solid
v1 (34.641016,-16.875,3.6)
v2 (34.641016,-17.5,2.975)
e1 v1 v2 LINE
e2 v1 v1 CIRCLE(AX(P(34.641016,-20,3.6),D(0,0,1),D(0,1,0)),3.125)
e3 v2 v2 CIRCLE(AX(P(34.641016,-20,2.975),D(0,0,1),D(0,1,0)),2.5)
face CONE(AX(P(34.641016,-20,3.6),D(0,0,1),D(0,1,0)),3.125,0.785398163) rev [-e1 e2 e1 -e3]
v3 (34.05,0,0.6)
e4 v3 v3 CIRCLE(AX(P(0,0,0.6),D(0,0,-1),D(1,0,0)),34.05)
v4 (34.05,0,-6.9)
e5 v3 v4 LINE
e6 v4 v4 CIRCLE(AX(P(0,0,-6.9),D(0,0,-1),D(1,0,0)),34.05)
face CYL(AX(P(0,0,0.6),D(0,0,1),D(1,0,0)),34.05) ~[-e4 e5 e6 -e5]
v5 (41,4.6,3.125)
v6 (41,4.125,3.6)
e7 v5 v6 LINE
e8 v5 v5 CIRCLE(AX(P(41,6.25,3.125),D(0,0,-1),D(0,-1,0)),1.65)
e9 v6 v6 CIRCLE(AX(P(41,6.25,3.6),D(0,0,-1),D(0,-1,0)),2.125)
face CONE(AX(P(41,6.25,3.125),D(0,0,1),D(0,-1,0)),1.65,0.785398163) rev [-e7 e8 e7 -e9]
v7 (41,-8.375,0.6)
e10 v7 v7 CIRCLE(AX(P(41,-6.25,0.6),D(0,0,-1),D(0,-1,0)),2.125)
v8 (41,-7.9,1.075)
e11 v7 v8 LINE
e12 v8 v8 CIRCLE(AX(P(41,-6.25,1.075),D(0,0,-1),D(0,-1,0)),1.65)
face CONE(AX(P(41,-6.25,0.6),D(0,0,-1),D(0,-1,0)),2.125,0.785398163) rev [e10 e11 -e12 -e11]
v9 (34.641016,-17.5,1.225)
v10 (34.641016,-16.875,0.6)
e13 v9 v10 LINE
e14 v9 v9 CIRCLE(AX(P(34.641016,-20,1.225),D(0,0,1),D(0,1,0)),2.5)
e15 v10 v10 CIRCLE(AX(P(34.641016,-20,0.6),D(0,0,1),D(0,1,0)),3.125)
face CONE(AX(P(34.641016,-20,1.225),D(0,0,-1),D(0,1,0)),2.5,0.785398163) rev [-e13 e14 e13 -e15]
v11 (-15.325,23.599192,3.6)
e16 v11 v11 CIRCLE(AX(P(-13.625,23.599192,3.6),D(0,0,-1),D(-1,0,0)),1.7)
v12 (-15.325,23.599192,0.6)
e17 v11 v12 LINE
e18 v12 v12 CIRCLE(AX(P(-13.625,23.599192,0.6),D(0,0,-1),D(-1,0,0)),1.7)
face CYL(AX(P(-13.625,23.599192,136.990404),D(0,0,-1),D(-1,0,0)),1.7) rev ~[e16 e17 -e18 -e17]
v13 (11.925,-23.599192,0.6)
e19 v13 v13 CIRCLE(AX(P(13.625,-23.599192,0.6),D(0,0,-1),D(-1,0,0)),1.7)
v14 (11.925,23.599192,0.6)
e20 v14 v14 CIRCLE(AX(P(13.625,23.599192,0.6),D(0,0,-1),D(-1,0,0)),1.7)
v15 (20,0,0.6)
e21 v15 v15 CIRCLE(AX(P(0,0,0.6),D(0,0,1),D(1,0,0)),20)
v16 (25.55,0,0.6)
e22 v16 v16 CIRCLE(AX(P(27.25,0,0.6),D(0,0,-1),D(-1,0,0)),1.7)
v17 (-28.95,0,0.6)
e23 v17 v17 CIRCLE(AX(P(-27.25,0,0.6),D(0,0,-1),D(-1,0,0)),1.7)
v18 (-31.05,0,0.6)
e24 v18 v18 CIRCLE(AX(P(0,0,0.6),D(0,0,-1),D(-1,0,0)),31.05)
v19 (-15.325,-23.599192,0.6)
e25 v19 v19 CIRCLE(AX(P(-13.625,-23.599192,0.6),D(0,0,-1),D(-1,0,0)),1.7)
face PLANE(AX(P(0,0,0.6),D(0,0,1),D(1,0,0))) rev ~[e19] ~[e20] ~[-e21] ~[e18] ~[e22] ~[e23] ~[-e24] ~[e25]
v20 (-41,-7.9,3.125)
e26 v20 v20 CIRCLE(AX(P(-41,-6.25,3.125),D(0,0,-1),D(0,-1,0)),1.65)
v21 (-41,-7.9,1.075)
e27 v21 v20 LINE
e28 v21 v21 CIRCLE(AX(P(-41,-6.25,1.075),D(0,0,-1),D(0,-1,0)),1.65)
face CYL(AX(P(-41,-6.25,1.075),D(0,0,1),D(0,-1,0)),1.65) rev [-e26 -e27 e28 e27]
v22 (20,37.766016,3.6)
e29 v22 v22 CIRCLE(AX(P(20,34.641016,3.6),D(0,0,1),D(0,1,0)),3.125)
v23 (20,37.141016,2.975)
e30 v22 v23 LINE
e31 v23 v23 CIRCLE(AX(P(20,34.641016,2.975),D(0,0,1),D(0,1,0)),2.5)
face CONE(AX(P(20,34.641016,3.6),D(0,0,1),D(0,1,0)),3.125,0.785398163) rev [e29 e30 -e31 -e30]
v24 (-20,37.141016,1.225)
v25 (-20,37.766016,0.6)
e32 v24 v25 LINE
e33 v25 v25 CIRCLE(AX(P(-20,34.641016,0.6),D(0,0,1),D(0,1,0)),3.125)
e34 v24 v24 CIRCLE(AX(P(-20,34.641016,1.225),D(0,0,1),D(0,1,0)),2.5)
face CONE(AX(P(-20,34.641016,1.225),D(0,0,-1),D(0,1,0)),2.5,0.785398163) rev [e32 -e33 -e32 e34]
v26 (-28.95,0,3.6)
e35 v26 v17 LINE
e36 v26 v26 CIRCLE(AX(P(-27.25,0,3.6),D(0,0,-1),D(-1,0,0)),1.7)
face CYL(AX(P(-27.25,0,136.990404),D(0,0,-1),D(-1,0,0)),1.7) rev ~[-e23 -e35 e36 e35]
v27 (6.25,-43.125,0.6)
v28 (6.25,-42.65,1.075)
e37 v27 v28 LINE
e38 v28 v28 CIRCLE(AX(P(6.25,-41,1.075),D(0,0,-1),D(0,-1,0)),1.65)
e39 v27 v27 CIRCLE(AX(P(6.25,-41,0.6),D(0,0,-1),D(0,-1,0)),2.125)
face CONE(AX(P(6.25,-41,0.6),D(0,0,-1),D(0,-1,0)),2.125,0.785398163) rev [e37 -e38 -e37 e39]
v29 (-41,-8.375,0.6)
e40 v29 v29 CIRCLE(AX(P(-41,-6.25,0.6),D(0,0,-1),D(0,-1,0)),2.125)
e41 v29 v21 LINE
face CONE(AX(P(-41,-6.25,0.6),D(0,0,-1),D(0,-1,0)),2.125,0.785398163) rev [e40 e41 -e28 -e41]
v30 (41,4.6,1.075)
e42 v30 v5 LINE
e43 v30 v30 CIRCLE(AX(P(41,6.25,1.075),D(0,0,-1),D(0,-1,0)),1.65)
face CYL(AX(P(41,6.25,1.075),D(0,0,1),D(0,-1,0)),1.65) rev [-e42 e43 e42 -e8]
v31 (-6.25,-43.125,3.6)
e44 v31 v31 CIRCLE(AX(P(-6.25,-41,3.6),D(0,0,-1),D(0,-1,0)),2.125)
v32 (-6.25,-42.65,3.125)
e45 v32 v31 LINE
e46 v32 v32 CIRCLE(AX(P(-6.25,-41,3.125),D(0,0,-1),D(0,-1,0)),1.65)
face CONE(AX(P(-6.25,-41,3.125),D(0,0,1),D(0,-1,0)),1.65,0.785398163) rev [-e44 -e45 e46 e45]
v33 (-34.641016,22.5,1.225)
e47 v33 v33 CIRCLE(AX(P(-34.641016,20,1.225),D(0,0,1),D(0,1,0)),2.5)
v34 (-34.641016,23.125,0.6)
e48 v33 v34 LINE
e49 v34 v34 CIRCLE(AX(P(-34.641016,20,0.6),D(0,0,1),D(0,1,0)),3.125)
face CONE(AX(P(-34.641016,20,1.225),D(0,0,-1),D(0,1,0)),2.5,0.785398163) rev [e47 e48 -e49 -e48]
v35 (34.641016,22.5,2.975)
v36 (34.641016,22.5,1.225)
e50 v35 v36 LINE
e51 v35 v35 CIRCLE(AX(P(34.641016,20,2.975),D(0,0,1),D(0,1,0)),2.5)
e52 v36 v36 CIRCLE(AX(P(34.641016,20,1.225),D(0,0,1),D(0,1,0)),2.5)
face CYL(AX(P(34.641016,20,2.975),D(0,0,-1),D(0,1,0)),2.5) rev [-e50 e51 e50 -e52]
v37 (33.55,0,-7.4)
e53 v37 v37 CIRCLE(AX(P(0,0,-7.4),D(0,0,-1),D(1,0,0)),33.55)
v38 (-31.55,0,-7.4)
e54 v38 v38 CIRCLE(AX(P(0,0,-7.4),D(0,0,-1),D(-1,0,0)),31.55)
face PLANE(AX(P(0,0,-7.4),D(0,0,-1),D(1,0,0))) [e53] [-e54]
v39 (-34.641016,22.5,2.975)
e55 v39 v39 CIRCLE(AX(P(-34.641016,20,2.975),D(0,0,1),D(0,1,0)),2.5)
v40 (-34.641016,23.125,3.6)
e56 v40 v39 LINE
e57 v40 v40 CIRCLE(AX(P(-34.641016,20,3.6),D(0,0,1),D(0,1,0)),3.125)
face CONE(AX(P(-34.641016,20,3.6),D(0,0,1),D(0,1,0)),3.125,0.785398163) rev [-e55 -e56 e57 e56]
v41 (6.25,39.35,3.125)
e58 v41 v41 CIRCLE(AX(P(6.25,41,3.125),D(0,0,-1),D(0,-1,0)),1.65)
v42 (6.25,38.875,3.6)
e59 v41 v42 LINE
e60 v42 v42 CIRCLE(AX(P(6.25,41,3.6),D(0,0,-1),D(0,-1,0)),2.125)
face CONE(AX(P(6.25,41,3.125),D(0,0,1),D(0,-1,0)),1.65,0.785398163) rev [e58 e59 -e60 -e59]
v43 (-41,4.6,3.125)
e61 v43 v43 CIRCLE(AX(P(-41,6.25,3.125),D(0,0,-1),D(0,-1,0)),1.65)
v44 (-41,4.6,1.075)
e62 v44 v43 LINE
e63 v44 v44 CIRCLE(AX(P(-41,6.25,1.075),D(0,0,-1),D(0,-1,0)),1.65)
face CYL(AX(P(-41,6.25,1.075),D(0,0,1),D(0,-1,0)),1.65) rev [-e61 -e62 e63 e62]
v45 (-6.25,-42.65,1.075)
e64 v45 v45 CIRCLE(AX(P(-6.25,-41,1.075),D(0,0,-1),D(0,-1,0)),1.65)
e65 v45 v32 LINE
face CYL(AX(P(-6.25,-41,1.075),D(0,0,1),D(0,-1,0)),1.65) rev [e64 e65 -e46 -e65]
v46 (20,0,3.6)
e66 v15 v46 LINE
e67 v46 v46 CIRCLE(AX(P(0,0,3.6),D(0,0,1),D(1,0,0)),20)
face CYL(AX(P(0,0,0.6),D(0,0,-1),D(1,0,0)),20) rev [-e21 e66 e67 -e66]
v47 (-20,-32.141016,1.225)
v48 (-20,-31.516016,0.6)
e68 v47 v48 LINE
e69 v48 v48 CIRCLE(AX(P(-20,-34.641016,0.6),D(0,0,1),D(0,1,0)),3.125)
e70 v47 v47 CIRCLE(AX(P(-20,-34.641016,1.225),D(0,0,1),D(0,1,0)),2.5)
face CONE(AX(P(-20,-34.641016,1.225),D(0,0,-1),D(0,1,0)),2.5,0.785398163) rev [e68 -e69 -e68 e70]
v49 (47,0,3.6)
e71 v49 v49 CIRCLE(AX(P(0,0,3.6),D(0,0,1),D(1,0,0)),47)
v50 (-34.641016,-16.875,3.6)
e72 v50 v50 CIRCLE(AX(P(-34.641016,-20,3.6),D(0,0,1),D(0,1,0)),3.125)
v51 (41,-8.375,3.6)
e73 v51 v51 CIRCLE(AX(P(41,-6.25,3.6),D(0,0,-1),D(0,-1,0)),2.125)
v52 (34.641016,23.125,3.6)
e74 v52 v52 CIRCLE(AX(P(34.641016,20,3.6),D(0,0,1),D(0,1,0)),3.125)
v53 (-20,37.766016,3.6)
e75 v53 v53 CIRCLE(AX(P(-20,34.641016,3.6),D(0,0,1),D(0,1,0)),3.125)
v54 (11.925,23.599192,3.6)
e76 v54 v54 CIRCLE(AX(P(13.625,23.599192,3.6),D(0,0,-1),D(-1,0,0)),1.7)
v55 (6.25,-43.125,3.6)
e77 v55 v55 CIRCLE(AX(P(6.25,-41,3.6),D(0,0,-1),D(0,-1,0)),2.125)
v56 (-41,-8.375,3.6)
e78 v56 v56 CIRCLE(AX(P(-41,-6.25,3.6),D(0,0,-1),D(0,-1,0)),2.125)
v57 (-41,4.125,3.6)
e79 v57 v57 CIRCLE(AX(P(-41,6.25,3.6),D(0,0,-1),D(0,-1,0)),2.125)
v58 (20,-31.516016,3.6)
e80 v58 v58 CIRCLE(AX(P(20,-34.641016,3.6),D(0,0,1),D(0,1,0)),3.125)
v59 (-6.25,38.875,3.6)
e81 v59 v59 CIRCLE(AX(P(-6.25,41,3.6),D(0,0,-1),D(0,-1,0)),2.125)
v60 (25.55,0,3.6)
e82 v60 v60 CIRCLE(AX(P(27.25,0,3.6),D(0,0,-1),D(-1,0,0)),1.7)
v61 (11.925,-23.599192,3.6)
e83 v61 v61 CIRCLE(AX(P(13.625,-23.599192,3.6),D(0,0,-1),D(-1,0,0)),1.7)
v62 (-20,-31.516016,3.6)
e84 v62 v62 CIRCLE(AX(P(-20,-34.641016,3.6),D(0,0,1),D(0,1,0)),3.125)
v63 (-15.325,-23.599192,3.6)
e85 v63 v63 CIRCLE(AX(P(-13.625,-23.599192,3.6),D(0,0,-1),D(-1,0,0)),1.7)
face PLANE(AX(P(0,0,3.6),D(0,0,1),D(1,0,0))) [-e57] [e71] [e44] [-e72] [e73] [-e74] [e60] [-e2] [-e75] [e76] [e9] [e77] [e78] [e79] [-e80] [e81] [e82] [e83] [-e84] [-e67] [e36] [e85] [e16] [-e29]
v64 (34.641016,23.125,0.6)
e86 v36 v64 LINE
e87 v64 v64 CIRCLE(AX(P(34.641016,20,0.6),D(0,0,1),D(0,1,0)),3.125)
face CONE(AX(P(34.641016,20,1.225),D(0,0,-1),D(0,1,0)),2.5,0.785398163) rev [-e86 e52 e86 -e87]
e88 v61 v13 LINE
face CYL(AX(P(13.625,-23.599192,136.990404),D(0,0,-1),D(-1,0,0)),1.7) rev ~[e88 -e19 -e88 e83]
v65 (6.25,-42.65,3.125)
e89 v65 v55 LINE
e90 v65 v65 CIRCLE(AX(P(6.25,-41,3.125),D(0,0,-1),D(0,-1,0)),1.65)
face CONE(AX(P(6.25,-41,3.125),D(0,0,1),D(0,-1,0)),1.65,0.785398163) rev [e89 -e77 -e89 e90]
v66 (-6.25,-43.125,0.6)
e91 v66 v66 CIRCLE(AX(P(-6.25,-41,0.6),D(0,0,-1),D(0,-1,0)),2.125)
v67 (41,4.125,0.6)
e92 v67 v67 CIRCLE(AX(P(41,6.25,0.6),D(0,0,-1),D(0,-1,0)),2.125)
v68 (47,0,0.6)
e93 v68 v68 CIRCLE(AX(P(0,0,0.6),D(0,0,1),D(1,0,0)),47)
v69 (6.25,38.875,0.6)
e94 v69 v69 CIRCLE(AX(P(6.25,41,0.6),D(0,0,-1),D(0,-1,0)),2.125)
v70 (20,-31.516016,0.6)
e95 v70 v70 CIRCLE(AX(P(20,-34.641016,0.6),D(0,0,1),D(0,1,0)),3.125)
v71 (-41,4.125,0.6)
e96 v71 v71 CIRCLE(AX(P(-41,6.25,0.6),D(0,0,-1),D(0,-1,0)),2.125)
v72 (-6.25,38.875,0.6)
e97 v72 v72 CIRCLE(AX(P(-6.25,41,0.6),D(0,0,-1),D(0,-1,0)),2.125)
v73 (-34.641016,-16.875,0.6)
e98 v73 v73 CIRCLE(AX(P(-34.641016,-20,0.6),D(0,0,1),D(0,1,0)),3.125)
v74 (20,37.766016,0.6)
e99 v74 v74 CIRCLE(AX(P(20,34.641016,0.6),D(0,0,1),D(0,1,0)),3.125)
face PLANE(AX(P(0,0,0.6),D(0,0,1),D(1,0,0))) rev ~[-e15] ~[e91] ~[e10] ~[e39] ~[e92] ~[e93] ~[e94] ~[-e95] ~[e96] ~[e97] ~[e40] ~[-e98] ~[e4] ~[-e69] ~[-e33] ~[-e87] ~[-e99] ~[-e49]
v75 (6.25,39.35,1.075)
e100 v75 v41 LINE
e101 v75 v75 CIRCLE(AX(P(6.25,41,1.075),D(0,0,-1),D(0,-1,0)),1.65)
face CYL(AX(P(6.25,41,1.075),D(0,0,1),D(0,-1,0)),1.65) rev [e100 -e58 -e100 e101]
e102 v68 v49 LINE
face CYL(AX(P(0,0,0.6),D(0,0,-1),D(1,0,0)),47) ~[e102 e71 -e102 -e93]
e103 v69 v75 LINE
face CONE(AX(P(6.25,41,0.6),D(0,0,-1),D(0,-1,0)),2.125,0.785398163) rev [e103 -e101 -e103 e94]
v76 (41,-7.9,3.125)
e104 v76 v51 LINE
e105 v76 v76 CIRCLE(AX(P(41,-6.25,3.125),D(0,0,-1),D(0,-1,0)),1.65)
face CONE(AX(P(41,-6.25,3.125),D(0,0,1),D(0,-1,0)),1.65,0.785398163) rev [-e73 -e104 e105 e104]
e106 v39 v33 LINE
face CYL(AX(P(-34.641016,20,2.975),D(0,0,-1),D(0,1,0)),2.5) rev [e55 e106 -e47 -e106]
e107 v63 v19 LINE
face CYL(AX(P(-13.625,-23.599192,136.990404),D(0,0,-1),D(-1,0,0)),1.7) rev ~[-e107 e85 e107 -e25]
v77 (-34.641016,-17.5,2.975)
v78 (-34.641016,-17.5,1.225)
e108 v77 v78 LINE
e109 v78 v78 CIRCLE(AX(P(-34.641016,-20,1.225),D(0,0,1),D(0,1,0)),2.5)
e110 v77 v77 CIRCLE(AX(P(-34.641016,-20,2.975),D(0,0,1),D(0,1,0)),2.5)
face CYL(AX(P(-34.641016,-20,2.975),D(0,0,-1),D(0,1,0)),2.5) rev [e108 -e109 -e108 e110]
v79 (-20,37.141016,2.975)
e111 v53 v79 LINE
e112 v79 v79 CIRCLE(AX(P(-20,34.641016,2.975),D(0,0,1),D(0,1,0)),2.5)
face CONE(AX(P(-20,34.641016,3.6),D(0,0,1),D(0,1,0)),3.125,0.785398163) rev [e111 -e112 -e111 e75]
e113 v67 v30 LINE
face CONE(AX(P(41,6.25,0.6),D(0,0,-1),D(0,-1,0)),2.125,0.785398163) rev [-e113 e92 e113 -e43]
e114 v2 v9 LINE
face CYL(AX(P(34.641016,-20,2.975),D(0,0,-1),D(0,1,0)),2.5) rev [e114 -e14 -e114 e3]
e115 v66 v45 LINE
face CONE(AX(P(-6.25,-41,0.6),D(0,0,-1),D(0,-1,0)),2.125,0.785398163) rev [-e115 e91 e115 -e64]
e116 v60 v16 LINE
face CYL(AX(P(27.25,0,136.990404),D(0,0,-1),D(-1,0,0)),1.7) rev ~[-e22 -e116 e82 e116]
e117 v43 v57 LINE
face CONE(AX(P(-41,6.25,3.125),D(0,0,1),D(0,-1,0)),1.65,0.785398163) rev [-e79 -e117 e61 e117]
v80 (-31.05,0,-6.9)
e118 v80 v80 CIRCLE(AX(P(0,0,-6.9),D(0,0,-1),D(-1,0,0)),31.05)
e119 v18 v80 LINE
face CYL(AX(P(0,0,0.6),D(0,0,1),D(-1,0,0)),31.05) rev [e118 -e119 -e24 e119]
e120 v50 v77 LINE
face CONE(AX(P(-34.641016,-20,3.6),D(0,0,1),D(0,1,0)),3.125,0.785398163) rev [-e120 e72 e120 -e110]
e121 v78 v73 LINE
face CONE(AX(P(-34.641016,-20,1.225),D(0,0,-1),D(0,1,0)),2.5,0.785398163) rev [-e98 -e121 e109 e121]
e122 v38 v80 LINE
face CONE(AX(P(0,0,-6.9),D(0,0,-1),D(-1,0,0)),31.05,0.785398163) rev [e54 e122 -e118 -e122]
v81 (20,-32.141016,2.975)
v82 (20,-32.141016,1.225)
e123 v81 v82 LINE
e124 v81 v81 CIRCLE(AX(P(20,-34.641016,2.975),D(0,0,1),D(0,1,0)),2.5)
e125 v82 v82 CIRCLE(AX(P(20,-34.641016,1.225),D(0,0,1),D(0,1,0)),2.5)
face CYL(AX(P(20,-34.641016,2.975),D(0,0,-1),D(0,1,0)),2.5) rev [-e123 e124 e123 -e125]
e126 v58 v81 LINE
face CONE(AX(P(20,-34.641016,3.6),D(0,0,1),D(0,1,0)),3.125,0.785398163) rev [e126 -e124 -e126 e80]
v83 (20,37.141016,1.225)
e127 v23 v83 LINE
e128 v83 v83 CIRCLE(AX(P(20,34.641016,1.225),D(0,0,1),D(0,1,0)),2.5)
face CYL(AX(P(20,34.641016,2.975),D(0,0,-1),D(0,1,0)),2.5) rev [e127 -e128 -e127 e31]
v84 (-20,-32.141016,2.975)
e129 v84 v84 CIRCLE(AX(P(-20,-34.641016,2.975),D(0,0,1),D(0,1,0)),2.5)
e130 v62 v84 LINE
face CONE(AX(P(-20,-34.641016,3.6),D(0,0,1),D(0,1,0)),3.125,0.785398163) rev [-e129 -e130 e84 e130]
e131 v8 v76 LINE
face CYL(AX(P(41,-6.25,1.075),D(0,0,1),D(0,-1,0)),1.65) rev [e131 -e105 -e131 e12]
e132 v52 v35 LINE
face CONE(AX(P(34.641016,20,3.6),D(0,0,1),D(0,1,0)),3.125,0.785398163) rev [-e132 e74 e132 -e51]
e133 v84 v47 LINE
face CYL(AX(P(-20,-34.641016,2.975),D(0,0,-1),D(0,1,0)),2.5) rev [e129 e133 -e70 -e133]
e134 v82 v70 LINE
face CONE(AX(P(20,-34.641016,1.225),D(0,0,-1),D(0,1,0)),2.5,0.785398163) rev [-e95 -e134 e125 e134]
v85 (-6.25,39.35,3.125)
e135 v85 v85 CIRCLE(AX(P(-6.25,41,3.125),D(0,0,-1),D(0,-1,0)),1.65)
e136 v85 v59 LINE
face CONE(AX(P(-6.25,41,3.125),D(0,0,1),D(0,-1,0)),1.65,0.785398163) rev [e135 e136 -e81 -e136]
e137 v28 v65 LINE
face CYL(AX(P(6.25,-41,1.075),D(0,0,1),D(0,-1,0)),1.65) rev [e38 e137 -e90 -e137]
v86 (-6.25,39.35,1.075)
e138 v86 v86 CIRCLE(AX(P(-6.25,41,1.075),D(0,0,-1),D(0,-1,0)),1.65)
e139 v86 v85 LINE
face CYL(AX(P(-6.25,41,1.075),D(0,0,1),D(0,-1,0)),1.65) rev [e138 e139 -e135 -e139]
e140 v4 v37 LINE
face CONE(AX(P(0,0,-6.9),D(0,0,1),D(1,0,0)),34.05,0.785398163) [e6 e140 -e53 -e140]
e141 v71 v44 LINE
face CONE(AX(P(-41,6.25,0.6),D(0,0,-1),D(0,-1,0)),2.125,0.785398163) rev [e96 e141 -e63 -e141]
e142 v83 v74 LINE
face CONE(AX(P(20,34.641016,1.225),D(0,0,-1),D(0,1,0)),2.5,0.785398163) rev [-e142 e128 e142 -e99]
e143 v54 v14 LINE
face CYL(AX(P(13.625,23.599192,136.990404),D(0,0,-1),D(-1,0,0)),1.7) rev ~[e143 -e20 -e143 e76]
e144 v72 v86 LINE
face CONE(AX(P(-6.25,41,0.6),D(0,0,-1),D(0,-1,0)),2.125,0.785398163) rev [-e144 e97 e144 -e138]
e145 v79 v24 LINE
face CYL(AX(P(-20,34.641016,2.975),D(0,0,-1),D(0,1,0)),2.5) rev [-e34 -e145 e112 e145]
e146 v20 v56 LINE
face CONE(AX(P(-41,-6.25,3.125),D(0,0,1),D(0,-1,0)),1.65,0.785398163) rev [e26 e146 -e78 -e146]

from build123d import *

# Parameters (mm, degrees)
BOSS_EXTRU_1_START             = 0.6
ESQUISSE1_R                    = 47
ESQUISSE1_R_2                  = 20
BOSS_EXTRU_1_DEPTH             = 3
ESQUISSE2_R                    = 34.05
ESQUISSE2_R_2                  = 31.05
BOSS_EXTRU_2_DEPTH             = 8
CHANFREIN1_SIZE                = 0.5
TROU_TARAUD_M4X0_71_AT_2_COUNT = 2
TROU_TARAUD_M4X0_71_AT_2_PITCH = 12.5
TROU_TARAUD_M4X0_71_AT_3_COUNT = 2
TROU_TARAUD_M4X0_71_AT_3_PITCH = 82
TROU_TARAUD_M4X0_71_AT_4_COUNT = 2
TROU_TARAUD_M4X0_71_AT_4_PITCH = 82.947272408
TROU_TARAUD_M4X0_71_AT_5_COUNT = 2
TROU_TARAUD_M4X0_71_AT_5_PITCH = 49.143921292
TROU_TARAUD_M4X0_71_AT_6_COUNT = 2
TROU_TARAUD_M4X0_71_AT_6_PITCH = 58.652578801
TROU_TARAUD_M4X0_71_AT_7_COUNT = 2
TROU_TARAUD_M4X0_71_AT_7_PITCH = 66.821590822
TROU_TARAUD_M4X0_71_AT_8_COUNT = 2
TROU_TARAUD_M4X0_71_AT_8_PITCH = 58.652578801
TROU_TARAUD_M6X1_01_AT_2_COUNT = 2
TROU_TARAUD_M6X1_01_AT_2_PITCH = 20.705523608
TROU_TARAUD_M6X1_01_AT_3_COUNT = 2
TROU_TARAUD_M6X1_01_AT_3_PITCH = 56.568542495
TROU_TARAUD_M6X1_01_AT_4_COUNT = 2
TROU_TARAUD_M6X1_01_AT_4_PITCH = 69.282032303
TROU_TARAUD_M6X1_01_AT_5_COUNT = 2
TROU_TARAUD_M6X1_01_AT_5_PITCH = 80
TROU_TARAUD_M6X1_01_AT_6_COUNT = 2
TROU_TARAUD_M6X1_01_AT_6_PITCH = 77.274066103
TROU_TARAUD_M6X1_01_AT_7_COUNT = 2
TROU_TARAUD_M6X1_01_AT_7_PITCH = 56.568542495
TROU_TARAUD_M6X1_01_AT_8_COUNT = 2
TROU_TARAUD_M6X1_01_AT_8_PITCH = 40
D_GAGEMENT_M31_D               = 3.4


with BuildPart() as part:
    # Esquisse1 → Boss.-Extru.1 (new body)
    with BuildSketch(Plane.XY.offset(BOSS_EXTRU_1_START)):
        Circle(ESQUISSE1_R)
        Circle(ESQUISSE1_R_2, mode=Mode.SUBTRACT)
    extrude(amount=BOSS_EXTRU_1_DEPTH)

    # Esquisse2 → Boss.-Extru.2 (add)
    with BuildSketch(Plane(origin=(0, 0, 0.6), x_dir=(-1, 0, 0), z_dir=(0, 0, -1))):
        with Locations(Location((0, 0, 0), (0, 0, 180))):
            Circle(ESQUISSE2_R)
        Circle(ESQUISSE2_R_2, mode=Mode.SUBTRACT)
    extrude(amount=BOSS_EXTRU_2_DEPTH)

    # Chanfrein1
    chanfrein1_edges = [part.edges().sort_by_distance(p)[0] for p in [
        (-34.05, 0, -7.4),
        (31.05, 0, -7.4),
    ]]
    chamfer(chanfrein1_edges, length=CHANFREIN1_SIZE)

    # Esquisse15 → Trou taraudé M4x0.71 (revolve, cut)
    with BuildSketch(Plane(origin=(6.25, 41, 3.6), x_dir=(0, -1, 0), z_dir=(1, 0, 0))):
        Polygon((0, 0), (0, 3), (2.125, 3), (1.65, 2.525), (1.65, 0.475), (2.125, 0), align=None)
    trou_taraud_m4x0_71 = revolve(axis=Axis((6.25, 41, 9.95), (0, 0, -1)), mode=Mode.SUBTRACT)

    # Trou taraudé M4x0.71 at 2: Trou taraudé M4x0.71 ×2
    with Locations(*[(-i * TROU_TARAUD_M4X0_71_AT_2_PITCH, 0, 0) for i in range(1, TROU_TARAUD_M4X0_71_AT_2_COUNT)]):
        add(trou_taraud_m4x0_71, mode=Mode.SUBTRACT)

    # Trou taraudé M4x0.71 at 3: Trou taraudé M4x0.71 ×2
    with Locations(*[(0, -i * TROU_TARAUD_M4X0_71_AT_3_PITCH, 0) for i in range(1, TROU_TARAUD_M4X0_71_AT_3_COUNT)]):
        add(trou_taraud_m4x0_71, mode=Mode.SUBTRACT)

    # Trou taraudé M4x0.71 at 4: Trou taraudé M4x0.71 ×2
    with Locations(*[Vector(-0.15069814397812628, -0.9885798244965087, 0) * (i * TROU_TARAUD_M4X0_71_AT_4_PITCH) for i in range(1, TROU_TARAUD_M4X0_71_AT_4_COUNT)]):
        add(trou_taraud_m4x0_71, mode=Mode.SUBTRACT)

    # Trou taraudé M4x0.71 at 5: Trou taraudé M4x0.71 ×2
    with Locations(*[Vector(0.7071067811865477, -0.7071067811865474, 0) * (i * TROU_TARAUD_M4X0_71_AT_5_PITCH) for i in range(1, TROU_TARAUD_M4X0_71_AT_5_COUNT)]):
        add(trou_taraud_m4x0_71, mode=Mode.SUBTRACT)

    # Trou taraudé M4x0.71 at 6: Trou taraudé M4x0.71 ×2
    with Locations(*[Vector(0.5924718181265287, -0.8055911771648481, 0) * (i * TROU_TARAUD_M4X0_71_AT_6_PITCH) for i in range(1, TROU_TARAUD_M4X0_71_AT_6_COUNT)]):
        add(trou_taraud_m4x0_71, mode=Mode.SUBTRACT)

    # Trou taraudé M4x0.71 at 7: Trou taraudé M4x0.71 ×2
    with Locations(*[Vector(-0.7071067811865475, -0.7071067811865477, 0) * (i * TROU_TARAUD_M4X0_71_AT_7_PITCH) for i in range(1, TROU_TARAUD_M4X0_71_AT_7_COUNT)]):
        add(trou_taraud_m4x0_71, mode=Mode.SUBTRACT)

    # Trou taraudé M4x0.71 at 8: Trou taraudé M4x0.71 ×2
    with Locations(*[Vector(-0.8055911771648481, -0.5924718181265287, 0) * (i * TROU_TARAUD_M4X0_71_AT_8_PITCH) for i in range(1, TROU_TARAUD_M4X0_71_AT_8_COUNT)]):
        add(trou_taraud_m4x0_71, mode=Mode.SUBTRACT)

    # Esquisse17 → Trou taraudé M6x1.01 (revolve, cut)
    with BuildSketch(Plane(origin=(34.641016151, 20, 0.6), x_dir=(0, 1, 0), z_dir=(1, 0, 0))):
        Polygon((0, 0), (0, 3), (3.125, 3), (2.5, 2.375), (2.5, 0.625), (3.125, 0), align=None)
    trou_taraud_m6x1_01 = revolve(axis=Axis((34.641016151, 20, -5.75), (0, 0, 1)), mode=Mode.SUBTRACT)

    # Trou taraudé M6x1.01 at 2: Trou taraudé M6x1.01 ×2
    with Locations(*[Vector(-0.7071067811865414, 0.7071067811865538, 0) * (i * TROU_TARAUD_M6X1_01_AT_2_PITCH) for i in range(1, TROU_TARAUD_M6X1_01_AT_2_COUNT)]):
        add(trou_taraud_m6x1_01, mode=Mode.SUBTRACT)

    # Trou taraudé M6x1.01 at 3: Trou taraudé M6x1.01 ×2
    with Locations(*[Vector(-0.9659258262890666, 0.25881904510252685, 0) * (i * TROU_TARAUD_M6X1_01_AT_3_PITCH) for i in range(1, TROU_TARAUD_M6X1_01_AT_3_COUNT)]):
        add(trou_taraud_m6x1_01, mode=Mode.SUBTRACT)

    # Trou taraudé M6x1.01 at 4: Trou taraudé M6x1.01 ×2
    with Locations(*[(-i * TROU_TARAUD_M6X1_01_AT_4_PITCH, 0, 0) for i in range(1, TROU_TARAUD_M6X1_01_AT_4_COUNT)]):
        add(trou_taraud_m6x1_01, mode=Mode.SUBTRACT)

    # Trou taraudé M6x1.01 at 5: Trou taraudé M6x1.01 ×2
    with Locations(*[Vector(-0.8660254037844417, -0.49999999999999467, 0) * (i * TROU_TARAUD_M6X1_01_AT_5_PITCH) for i in range(1, TROU_TARAUD_M6X1_01_AT_5_COUNT)]):
        add(trou_taraud_m6x1_01, mode=Mode.SUBTRACT)

    # Trou taraudé M6x1.01 at 6: Trou taraudé M6x1.01 ×2
    with Locations(*[Vector(-0.7071067811865456, -0.7071067811865496, 0) * (i * TROU_TARAUD_M6X1_01_AT_6_PITCH) for i in range(1, TROU_TARAUD_M6X1_01_AT_6_COUNT)]):
        add(trou_taraud_m6x1_01, mode=Mode.SUBTRACT)

    # Trou taraudé M6x1.01 at 7: Trou taraudé M6x1.01 ×2
    with Locations(*[Vector(-0.25881904510252607, -0.9659258262890669, 0) * (i * TROU_TARAUD_M6X1_01_AT_7_PITCH) for i in range(1, TROU_TARAUD_M6X1_01_AT_7_COUNT)]):
        add(trou_taraud_m6x1_01, mode=Mode.SUBTRACT)

    # Trou taraudé M6x1.01 at 8: Trou taraudé M6x1.01 ×2
    with Locations(*[(0, -i * TROU_TARAUD_M6X1_01_AT_8_PITCH, 0) for i in range(1, TROU_TARAUD_M6X1_01_AT_8_COUNT)]):
        add(trou_taraud_m6x1_01, mode=Mode.SUBTRACT)

    # Dégagement M31 (through all)
    with Locations(Plane(origin=(27.25, 0, 3.6), x_dir=(1, 0, 0), z_dir=(0, 0, 1))):
        with Locations((0, 0), (-13.625, 23.599192253), (-40.875, 23.599192253), (-54.5, 0), (-40.875, -23.599192253), (-13.625, -23.599192253)):
            Hole(D_GAGEMENT_M31_D / 2)


solid = part.part
